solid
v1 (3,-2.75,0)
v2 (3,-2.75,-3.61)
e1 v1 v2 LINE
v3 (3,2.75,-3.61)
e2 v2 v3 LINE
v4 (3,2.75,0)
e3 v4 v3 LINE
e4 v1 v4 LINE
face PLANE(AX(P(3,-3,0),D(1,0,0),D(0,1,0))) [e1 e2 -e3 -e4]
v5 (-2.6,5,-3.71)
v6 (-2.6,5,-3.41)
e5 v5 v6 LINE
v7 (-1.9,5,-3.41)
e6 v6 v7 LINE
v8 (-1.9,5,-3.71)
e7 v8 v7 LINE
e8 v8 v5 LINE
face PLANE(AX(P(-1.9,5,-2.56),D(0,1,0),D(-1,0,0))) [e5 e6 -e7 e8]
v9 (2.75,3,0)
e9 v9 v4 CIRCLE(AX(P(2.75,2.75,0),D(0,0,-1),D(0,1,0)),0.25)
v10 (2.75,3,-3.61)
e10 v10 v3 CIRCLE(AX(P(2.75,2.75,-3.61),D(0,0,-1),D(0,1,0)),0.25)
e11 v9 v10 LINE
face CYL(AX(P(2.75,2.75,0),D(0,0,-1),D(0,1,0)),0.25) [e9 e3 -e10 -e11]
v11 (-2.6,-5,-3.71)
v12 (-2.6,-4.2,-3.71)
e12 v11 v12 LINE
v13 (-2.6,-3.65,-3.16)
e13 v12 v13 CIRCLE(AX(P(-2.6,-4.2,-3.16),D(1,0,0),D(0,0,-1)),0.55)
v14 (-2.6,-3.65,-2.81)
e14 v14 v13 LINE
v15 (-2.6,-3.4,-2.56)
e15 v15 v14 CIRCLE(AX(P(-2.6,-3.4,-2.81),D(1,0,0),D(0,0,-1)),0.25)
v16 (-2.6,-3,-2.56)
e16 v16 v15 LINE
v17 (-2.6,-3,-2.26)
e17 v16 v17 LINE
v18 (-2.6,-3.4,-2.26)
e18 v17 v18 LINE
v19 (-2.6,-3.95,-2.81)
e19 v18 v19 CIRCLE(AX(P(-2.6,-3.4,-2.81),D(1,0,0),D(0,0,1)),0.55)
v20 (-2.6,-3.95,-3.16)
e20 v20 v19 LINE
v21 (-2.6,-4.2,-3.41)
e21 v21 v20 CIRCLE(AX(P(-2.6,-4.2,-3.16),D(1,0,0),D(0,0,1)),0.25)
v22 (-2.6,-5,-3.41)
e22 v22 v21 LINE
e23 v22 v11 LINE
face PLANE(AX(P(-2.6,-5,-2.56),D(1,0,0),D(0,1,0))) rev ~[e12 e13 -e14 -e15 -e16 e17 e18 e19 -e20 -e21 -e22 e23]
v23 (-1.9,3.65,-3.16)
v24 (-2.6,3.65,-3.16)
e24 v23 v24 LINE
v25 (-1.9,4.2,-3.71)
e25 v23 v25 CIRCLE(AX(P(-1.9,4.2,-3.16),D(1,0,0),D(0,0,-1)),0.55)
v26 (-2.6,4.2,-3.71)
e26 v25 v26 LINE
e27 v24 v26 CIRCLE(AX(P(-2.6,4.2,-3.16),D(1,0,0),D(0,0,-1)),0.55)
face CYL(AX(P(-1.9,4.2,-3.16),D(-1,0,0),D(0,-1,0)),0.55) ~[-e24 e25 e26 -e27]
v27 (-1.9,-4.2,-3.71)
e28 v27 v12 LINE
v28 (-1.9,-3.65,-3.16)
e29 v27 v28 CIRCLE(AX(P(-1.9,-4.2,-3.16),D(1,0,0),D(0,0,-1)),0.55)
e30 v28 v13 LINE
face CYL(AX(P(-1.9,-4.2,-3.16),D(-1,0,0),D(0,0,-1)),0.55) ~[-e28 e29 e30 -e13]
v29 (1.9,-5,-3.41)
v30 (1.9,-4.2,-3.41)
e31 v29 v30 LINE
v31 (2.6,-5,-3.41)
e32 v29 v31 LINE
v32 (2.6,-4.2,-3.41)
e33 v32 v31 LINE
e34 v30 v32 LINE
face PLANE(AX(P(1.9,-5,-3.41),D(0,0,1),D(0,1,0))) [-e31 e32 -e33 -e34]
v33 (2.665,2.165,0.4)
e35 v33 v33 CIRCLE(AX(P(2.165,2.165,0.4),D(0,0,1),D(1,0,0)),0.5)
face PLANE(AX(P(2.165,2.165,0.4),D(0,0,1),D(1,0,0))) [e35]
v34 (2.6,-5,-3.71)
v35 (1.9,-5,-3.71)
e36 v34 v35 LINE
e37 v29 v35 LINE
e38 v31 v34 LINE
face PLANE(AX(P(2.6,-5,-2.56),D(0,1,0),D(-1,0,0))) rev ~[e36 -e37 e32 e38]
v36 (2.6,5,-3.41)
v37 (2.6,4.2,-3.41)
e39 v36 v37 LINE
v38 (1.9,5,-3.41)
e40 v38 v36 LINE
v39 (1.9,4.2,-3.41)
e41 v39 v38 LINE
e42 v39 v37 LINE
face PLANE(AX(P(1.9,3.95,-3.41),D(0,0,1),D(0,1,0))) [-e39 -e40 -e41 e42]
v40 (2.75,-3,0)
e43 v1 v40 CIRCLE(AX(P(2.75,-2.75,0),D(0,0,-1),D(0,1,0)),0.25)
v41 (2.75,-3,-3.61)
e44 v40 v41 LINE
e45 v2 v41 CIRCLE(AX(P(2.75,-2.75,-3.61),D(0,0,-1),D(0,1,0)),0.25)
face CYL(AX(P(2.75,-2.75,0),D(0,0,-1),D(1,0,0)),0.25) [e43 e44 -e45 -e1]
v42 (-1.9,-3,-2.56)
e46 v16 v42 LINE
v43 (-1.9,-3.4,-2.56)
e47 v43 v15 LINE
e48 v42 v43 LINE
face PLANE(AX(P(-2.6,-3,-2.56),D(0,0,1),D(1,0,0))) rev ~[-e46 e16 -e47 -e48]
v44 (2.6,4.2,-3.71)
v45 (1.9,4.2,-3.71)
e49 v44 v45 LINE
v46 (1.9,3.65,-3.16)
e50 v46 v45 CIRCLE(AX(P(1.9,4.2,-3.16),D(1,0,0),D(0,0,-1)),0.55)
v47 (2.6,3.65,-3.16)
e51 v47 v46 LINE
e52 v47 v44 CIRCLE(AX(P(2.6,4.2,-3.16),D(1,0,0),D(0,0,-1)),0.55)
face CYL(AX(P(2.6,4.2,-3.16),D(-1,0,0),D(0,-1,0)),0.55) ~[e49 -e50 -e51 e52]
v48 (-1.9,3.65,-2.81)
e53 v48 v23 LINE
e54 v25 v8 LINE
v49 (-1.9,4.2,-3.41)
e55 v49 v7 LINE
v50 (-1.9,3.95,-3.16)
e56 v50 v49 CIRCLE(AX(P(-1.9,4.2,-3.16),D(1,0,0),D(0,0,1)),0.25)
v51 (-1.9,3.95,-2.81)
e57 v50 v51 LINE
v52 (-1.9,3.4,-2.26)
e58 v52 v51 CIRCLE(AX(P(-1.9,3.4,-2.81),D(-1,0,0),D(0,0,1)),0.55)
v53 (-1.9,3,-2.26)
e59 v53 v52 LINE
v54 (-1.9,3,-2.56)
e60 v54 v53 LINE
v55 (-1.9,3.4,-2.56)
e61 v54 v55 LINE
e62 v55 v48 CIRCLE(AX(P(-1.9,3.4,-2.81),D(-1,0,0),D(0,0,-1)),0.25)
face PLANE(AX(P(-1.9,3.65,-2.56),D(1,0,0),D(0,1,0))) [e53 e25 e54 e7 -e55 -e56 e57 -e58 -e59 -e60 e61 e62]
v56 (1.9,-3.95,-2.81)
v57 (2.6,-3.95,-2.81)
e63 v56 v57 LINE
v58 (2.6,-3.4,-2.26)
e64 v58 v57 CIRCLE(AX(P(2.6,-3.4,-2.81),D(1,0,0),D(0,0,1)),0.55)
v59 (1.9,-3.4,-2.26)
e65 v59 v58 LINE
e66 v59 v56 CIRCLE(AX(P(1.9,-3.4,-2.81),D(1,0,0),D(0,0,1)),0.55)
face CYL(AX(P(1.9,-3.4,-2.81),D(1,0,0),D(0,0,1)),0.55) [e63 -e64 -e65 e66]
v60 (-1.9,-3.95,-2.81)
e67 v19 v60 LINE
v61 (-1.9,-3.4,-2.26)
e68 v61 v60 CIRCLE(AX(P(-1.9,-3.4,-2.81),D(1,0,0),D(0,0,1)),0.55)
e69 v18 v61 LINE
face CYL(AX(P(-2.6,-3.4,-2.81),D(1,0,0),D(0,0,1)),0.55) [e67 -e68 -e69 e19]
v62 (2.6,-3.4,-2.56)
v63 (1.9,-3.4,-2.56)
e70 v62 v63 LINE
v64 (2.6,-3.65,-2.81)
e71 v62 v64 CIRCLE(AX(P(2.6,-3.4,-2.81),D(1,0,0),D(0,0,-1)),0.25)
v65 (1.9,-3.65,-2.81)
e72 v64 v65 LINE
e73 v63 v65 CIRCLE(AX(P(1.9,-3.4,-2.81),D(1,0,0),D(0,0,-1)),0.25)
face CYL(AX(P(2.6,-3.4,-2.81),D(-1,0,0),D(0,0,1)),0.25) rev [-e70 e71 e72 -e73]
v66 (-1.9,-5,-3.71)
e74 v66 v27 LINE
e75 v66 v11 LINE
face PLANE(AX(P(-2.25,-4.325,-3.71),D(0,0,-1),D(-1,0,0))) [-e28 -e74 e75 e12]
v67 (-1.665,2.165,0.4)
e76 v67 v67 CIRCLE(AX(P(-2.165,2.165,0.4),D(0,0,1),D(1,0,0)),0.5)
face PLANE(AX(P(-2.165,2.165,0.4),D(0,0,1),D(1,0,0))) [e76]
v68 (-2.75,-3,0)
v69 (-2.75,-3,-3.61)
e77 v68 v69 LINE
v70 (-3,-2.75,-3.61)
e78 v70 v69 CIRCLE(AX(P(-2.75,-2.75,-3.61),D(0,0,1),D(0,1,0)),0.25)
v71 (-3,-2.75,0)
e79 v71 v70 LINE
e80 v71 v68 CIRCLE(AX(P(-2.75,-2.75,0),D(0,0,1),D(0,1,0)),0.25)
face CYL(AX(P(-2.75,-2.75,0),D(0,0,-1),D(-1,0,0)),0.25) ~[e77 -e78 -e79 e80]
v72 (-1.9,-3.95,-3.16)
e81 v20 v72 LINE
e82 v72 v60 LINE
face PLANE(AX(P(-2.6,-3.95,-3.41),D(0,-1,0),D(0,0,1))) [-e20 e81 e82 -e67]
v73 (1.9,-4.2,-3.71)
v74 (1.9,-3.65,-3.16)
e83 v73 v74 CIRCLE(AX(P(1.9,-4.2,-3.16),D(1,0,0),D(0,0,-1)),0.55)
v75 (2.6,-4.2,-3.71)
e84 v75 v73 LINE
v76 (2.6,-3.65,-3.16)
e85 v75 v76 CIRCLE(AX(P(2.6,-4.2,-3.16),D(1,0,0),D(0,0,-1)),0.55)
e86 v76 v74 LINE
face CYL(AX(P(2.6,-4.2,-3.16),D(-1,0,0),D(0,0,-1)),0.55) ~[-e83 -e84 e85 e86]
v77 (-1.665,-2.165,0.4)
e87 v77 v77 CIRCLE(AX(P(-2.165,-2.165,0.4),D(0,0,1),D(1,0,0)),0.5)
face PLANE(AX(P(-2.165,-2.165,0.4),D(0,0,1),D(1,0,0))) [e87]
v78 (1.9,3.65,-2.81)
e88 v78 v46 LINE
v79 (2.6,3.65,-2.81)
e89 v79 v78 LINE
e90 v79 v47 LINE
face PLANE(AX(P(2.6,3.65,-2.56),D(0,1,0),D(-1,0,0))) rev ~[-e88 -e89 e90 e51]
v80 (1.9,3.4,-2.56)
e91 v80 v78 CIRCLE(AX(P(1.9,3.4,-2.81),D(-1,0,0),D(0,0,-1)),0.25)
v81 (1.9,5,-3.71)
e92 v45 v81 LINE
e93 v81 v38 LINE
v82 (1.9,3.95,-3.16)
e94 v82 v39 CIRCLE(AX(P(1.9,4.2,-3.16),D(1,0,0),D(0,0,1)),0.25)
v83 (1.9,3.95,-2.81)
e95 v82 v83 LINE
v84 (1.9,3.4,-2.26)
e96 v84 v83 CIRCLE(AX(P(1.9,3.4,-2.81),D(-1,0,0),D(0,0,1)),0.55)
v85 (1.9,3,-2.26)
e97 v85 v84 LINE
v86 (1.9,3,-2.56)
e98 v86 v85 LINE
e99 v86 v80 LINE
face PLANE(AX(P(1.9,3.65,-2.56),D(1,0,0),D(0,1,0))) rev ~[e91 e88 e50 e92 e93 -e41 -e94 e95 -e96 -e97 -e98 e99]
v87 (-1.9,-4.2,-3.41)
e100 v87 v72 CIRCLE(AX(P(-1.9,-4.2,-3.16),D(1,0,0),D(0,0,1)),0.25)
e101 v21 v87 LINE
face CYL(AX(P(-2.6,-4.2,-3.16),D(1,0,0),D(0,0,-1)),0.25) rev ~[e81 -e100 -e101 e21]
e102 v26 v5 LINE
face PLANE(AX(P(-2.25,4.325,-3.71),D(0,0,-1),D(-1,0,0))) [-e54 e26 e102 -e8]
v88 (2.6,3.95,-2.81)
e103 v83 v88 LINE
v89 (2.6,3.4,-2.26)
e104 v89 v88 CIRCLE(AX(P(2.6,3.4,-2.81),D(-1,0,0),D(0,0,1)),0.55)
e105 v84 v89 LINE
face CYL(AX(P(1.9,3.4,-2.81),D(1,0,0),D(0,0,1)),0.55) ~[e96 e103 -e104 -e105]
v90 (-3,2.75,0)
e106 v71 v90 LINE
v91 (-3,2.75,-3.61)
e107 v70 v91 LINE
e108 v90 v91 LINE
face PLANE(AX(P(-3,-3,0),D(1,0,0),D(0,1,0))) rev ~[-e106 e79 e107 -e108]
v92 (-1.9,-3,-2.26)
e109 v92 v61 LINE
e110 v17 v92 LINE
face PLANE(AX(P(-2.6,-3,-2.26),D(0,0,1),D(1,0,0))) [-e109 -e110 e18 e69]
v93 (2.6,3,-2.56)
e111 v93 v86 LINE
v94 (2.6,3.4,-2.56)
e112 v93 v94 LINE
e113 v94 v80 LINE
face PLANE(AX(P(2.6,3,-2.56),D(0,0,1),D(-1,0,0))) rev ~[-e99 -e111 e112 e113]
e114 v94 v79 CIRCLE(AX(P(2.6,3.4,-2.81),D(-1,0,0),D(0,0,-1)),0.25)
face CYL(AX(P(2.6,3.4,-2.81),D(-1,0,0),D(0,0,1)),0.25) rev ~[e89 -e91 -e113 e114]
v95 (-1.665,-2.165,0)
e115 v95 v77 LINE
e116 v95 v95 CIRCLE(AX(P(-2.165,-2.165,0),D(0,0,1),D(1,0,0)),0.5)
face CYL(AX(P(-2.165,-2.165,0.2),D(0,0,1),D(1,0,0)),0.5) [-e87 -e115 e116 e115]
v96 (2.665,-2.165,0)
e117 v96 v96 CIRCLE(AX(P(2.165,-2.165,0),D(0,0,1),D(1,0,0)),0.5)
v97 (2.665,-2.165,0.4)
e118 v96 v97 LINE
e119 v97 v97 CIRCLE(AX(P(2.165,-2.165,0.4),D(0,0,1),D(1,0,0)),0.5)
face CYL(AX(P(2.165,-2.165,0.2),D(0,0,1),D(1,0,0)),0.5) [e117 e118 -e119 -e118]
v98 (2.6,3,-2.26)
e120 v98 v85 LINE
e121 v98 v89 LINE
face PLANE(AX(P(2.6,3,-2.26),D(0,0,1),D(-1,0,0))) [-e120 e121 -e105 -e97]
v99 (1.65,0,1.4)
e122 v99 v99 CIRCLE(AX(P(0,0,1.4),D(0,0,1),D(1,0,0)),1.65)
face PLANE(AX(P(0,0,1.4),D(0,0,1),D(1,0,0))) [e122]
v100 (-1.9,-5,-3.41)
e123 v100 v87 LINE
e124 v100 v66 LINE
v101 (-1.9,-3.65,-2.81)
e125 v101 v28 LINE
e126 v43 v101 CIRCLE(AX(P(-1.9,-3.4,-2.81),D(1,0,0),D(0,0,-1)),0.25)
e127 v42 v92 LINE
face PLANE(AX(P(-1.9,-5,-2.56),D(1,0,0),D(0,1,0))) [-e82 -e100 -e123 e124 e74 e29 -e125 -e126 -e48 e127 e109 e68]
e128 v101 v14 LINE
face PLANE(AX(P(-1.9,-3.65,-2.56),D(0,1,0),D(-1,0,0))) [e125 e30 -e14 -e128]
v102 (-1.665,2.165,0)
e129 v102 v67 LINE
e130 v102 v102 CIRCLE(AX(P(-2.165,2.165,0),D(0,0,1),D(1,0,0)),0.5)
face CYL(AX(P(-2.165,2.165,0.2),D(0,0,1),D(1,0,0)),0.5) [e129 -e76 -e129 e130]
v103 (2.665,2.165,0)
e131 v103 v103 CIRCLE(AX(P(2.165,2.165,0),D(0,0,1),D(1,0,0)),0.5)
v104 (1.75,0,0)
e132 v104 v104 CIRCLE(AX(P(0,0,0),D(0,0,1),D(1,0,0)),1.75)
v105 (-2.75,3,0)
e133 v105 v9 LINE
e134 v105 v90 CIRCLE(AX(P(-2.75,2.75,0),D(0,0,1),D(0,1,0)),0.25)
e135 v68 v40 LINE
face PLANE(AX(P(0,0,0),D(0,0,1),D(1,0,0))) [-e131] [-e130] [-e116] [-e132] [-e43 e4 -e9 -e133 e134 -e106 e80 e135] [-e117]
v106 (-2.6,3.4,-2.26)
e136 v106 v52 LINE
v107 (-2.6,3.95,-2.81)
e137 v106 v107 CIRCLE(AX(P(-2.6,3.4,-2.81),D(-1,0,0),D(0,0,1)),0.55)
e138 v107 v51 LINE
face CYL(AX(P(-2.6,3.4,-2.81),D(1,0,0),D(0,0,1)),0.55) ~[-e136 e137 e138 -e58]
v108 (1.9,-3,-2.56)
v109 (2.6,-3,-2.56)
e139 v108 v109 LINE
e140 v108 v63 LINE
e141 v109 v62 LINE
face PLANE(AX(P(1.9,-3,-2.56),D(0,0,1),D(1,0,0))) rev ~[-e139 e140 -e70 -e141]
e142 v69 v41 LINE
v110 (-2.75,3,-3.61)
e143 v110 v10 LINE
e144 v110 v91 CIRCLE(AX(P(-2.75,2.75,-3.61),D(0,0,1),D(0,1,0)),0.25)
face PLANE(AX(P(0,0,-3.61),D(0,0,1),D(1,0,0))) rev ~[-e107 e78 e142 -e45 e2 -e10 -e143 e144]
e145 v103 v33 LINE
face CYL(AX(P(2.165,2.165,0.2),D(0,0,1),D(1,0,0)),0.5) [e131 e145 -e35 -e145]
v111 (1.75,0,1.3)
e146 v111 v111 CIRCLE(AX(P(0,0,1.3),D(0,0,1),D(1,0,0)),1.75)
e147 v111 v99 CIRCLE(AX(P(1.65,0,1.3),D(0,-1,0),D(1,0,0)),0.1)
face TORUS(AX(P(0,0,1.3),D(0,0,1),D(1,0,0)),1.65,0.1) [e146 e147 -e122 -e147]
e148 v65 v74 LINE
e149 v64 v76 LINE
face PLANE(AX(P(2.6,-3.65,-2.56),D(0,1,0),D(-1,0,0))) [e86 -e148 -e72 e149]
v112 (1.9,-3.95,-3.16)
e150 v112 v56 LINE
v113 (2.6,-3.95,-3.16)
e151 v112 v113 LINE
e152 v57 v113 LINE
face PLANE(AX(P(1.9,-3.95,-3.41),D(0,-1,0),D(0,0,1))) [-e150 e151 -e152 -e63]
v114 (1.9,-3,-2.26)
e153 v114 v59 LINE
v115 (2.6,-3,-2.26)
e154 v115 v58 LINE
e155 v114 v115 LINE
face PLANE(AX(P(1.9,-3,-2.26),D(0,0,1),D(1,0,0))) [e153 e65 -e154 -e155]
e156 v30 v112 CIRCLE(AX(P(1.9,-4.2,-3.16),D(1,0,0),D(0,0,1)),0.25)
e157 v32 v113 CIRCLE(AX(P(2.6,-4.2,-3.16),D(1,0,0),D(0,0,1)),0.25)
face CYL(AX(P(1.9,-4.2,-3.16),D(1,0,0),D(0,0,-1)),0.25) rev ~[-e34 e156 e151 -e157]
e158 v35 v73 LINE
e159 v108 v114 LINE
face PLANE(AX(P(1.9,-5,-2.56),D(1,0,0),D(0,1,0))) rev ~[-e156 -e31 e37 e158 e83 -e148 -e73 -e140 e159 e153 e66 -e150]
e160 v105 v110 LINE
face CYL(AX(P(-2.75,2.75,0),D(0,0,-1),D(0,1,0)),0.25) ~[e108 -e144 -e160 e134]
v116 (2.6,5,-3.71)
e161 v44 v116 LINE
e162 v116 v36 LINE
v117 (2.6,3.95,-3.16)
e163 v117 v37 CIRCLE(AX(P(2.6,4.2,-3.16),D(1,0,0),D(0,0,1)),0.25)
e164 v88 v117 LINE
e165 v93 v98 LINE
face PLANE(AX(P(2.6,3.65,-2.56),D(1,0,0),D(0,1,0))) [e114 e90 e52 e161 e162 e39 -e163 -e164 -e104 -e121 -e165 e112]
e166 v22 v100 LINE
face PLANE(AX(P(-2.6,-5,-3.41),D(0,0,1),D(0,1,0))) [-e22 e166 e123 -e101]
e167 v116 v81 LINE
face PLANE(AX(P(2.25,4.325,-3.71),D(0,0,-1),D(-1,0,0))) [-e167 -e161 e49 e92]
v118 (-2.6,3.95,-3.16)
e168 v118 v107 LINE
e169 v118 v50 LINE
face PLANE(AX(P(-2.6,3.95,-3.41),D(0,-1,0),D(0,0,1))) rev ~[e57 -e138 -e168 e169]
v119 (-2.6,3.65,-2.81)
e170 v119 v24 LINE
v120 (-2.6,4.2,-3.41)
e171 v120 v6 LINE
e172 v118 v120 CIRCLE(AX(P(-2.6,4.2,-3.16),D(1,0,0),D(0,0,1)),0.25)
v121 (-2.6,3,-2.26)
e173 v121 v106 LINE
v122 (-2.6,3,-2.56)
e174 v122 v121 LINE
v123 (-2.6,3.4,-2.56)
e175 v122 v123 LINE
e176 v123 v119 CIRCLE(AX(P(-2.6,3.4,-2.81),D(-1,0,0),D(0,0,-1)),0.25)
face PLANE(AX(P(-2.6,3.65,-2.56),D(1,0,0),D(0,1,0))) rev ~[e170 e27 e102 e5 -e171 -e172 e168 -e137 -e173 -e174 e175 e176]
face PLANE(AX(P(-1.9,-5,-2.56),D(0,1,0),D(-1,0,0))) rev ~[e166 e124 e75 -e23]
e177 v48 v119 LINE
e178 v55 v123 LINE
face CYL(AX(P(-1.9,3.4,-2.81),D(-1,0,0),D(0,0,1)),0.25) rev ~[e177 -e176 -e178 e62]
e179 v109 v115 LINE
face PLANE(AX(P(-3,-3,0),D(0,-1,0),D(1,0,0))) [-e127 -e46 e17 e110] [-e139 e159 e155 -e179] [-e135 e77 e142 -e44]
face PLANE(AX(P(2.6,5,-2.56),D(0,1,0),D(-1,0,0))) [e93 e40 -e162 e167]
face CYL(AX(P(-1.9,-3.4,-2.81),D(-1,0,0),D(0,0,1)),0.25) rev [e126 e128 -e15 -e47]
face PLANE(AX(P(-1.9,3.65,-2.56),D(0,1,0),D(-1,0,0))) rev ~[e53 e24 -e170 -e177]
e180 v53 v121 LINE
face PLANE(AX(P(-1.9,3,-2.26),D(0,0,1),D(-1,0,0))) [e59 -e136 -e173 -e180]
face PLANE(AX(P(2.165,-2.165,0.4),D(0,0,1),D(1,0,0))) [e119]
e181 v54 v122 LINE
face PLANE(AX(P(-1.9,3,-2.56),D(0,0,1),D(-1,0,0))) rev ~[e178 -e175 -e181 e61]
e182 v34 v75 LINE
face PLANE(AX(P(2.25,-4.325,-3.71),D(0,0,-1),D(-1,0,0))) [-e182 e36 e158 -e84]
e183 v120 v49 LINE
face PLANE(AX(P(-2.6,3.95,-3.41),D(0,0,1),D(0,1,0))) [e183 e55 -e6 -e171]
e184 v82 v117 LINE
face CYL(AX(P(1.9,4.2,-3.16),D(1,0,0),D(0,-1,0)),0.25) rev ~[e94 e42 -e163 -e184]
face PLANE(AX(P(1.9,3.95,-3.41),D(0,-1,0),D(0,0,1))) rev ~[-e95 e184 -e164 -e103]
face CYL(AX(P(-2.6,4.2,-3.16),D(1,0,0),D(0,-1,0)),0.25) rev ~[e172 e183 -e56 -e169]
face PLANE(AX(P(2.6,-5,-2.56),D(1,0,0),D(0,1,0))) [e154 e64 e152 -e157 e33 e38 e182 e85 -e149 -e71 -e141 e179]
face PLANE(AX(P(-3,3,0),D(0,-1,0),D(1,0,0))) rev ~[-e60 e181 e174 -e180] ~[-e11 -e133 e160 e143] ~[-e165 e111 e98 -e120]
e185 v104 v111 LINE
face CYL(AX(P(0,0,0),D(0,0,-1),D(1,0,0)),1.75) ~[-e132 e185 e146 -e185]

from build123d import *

# Parameters (mm, degrees)
SKETCH1_W            = 6
SKETCH1_H            = 6
BOSS_EXTRUDE1_DEPTH  = 3.61
SKETCH2_W            = 0.7
SKETCH2_H            = 0.3
BOSS_EXTRUDE2_DEPTH  = 2
SKETCH3_W            = 0.7
SKETCH3_H            = 1.35
BOSS_EXTRUDE3_DEPTH  = 1.15
SKETCH4_W            = 0.7
SKETCH4_H            = 0.3
BOSS_EXTRUDE4_DEPTH  = 2
SKETCH5_W            = 0.7
SKETCH5_H            = 1.35
BOSS_EXTRUDE5_DEPTH  = 1.15
SKETCH6_W            = 0.7
SKETCH6_H            = 0.3
BOSS_EXTRUDE6_DEPTH  = 2
SKETCH7_W            = 0.7
SKETCH7_H            = 1.35
BOSS_EXTRUDE7_DEPTH  = 1.15
SKETCH8_W            = 0.7
SKETCH8_H            = 0.3
BOSS_EXTRUDE8_DEPTH  = 2
SKETCH9_W            = 0.7
SKETCH9_H            = 1.35
BOSS_EXTRUDE9_DEPTH  = 1.15
CUT_EXTRUDE1_REACH   = 10.374
SKETCH10_W           = 1.15
SKETCH10_H           = 1.05
SKETCH11_W           = 1.15
SKETCH11_H           = 1.05
CUT_EXTRUDE2_DEPTH   = 8.923010791
CUT_EXTRUDE3_REACH   = 10.374
SKETCH12_W           = 1.15
SKETCH12_H           = 1.05
SKETCH13_W           = 1.15
SKETCH13_H           = 1.05
CUT_EXTRUDE4_DEPTH   = 8.923010791
SKETCH14_W           = 0.5
SKETCH14_H           = 0.4
SKETCH15_W           = 0.5
SKETCH15_H           = 0.4
SKETCH16_W           = 0.5
SKETCH16_H           = 0.4
SKETCH17_W           = 0.5
SKETCH17_H           = 0.4
FILLET1_R            = 0.25
FILLET2_R            = 0.55
SKETCH19_R           = 1.75
BOSS_EXTRUDE10_DEPTH = 1.4
FILLET4_R            = 0.1


with BuildPart() as part:
    # Sketch1 → Boss-Extrude1 (new body)
    with BuildSketch(Plane.XY):
        Rectangle(SKETCH1_W, SKETCH1_H)
    extrude(amount=-BOSS_EXTRUDE1_DEPTH)

    # Sketch2 → Boss-Extrude2 (add)
    with BuildSketch(Plane.XZ.offset(3)):
        with Locations((-2.25, -2.41)):
            Rectangle(SKETCH2_W, SKETCH2_H)
    extrude(amount=BOSS_EXTRUDE2_DEPTH)

    # Sketch3 → Boss-Extrude3 (add)
    with BuildSketch(Plane(origin=(0, 0, -2.56), x_dir=(-1, 0, 0), z_dir=(0, 0, -1))):
        with Locations((2.25, -4.325)):
            Rectangle(SKETCH3_W, SKETCH3_H)
    extrude(amount=BOSS_EXTRUDE3_DEPTH)

    # Sketch4 → Boss-Extrude4 (add)
    with BuildSketch(Plane.XZ.offset(3)):
        with Locations((2.25, -2.41)):
            Rectangle(SKETCH4_W, SKETCH4_H)
    extrude(amount=BOSS_EXTRUDE4_DEPTH)

    # Sketch5 → Boss-Extrude5 (add)
    with BuildSketch(Plane(origin=(0, 0, -2.56), x_dir=(-1, 0, 0), z_dir=(0, 0, -1))):
        with Locations((-2.25, -4.325)):
            Rectangle(SKETCH5_W, SKETCH5_H)
    extrude(amount=BOSS_EXTRUDE5_DEPTH)

    # Sketch6 → Boss-Extrude6 (add)
    with BuildSketch(Plane(origin=(0, 3, 0), x_dir=(-1, 0, 0), z_dir=(0, 1, 0))):
        with Locations((2.25, -2.41)):
            Rectangle(SKETCH6_W, SKETCH6_H)
    extrude(amount=BOSS_EXTRUDE6_DEPTH)

    # Sketch7 → Boss-Extrude7 (add)
    with BuildSketch(Plane(origin=(0, 0, -2.56), x_dir=(-1, 0, 0), z_dir=(0, 0, -1))):
        with Locations((2.25, 4.325)):
            Rectangle(SKETCH7_W, SKETCH7_H)
    extrude(amount=BOSS_EXTRUDE7_DEPTH)

    # Sketch8 → Boss-Extrude8 (add)
    with BuildSketch(Plane(origin=(0, 3, 0), x_dir=(-1, 0, 0), z_dir=(0, 1, 0))):
        with Locations((-2.25, -2.41)):
            Rectangle(SKETCH8_W, SKETCH8_H)
    extrude(amount=BOSS_EXTRUDE8_DEPTH)

    # Sketch9 → Boss-Extrude9 (add)
    with BuildSketch(Plane(origin=(0, 0, -2.56), x_dir=(-1, 0, 0), z_dir=(0, 0, -1))):
        with Locations((-2.25, 4.325)):
            Rectangle(SKETCH9_W, SKETCH9_H)
    extrude(amount=BOSS_EXTRUDE9_DEPTH)

    # Sketch10 → Cut-Extrude1 (cut, up to next)
    with BuildSketch(Plane.ZY.offset(2.6), mode=Mode.PRIVATE) as cut_extrude1_sk1:
        with Locations((-2.835, -4.475)):
            Rectangle(SKETCH10_W, SKETCH10_H)
    cut_extrude1_tool1 = extrude(cut_extrude1_sk1.sketch, amount=-CUT_EXTRUDE1_REACH, mode=Mode.PRIVATE) & part.part
    add(cut_extrude1_tool1.solids().sort_by_distance((-2.6, -4.475, -2.835))[0], mode=Mode.SUBTRACT)

    # Sketch11 → Cut-Extrude2 (cut, through all)
    with BuildSketch(Plane.ZY.offset(-1.9)):
        with Locations((-2.835, -4.475)):
            Rectangle(SKETCH11_W, SKETCH11_H)
    extrude(amount=-CUT_EXTRUDE2_DEPTH, mode=Mode.SUBTRACT)

    # Sketch12 → Cut-Extrude3 (cut, up to next)
    with BuildSketch(Plane.ZY.offset(2.6), mode=Mode.PRIVATE) as cut_extrude3_sk1:
        with Locations((-2.835, 4.475)):
            Rectangle(SKETCH12_W, SKETCH12_H)
    cut_extrude3_tool1 = extrude(cut_extrude3_sk1.sketch, amount=-CUT_EXTRUDE3_REACH, mode=Mode.PRIVATE) & part.part
    add(cut_extrude3_tool1.solids().sort_by_distance((-2.6, 4.475, -2.835))[0], mode=Mode.SUBTRACT)

    # Sketch13 → Cut-Extrude4 (cut, through all)
    with BuildSketch(Plane.ZY.offset(-1.9)):
        with Locations((-2.835, 4.475)):
            Rectangle(SKETCH13_W, SKETCH13_H)
    extrude(amount=-CUT_EXTRUDE4_DEPTH, mode=Mode.SUBTRACT)

    # Sketch14 → Revolve1 (revolve)
    with BuildSketch(Plane(origin=(0, -2.165, 0), x_dir=(-1, 0, 0), z_dir=(0, 1, 0))):
        with Locations((-2.415, 0.2)):
            Rectangle(SKETCH14_W, SKETCH14_H)
    revolve(axis=Axis((2.165, -2.165, 0), (0, 0, 1)))

    # Sketch15 → Revolve2 (revolve)
    with BuildSketch(Plane(origin=(0, -2.165, 0), x_dir=(-1, 0, 0), z_dir=(0, 1, 0))):
        with Locations((1.915, 0.2)):
            Rectangle(SKETCH15_W, SKETCH15_H)
    revolve(axis=Axis((-2.165, -2.165, 0), (0, 0, 1)))

    # Sketch16 → Revolve3 (revolve)
    with BuildSketch(Plane(origin=(0, 2.165, 0), x_dir=(-1, 0, 0), z_dir=(0, 1, 0))):
        with Locations((1.915, 0.2)):
            Rectangle(SKETCH16_W, SKETCH16_H)
    revolve(axis=Axis((-2.165, 2.165, 0), (0, 0, 1)))

    # Sketch17 → Revolve4 (revolve)
    with BuildSketch(Plane(origin=(0, 2.165, 0), x_dir=(-1, 0, 0), z_dir=(0, 1, 0))):
        with Locations((-2.415, 0.2)):
            Rectangle(SKETCH17_W, SKETCH17_H)
    revolve(axis=Axis((2.165, 2.165, 0), (0, 0, 1)))

    # Fillet1
    fillet1_edges = [part.edges().sort_by_distance(p)[0] for p in [
        (2.25, 3.65, -2.56),
        (-2.25, -3.95, -3.41),
        (2.25, -3.95, -3.41),
        (-2.25, 3.95, -3.41),
        (2.25, 3.95, -3.41),
        (-2.25, -3.65, -2.56),
        (2.25, -3.65, -2.56),
        (-3, -3, -1.805),
        (-3, 3, -1.805),
        (3, 3, -1.805),
        (3, -3, -1.805),
        (-2.25, 3.65, -2.56),
    ]]
    fillet(fillet1_edges, radius=FILLET1_R)

    # Fillet2
    fillet2_edges = [part.edges().sort_by_distance(p)[0] for p in [
        (2.25, 3.65, -3.71),
        (-2.25, -3.95, -2.26),
        (2.25, -3.95, -2.26),
        (-2.25, 3.95, -2.26),
        (2.25, 3.95, -2.26),
        (-2.25, -3.65, -3.71),
        (2.25, -3.65, -3.71),
        (-2.25, 3.65, -3.71),
    ]]
    fillet(fillet2_edges, radius=FILLET2_R)

    # Sketch19 → Boss-Extrude10 (add)
    with BuildSketch(Plane.XY):
        Circle(SKETCH19_R)
    extrude(amount=BOSS_EXTRUDE10_DEPTH)

    # Fillet4
    fillet4_edges = [part.edges().sort_by_distance(p)[0] for p in [
        (-1.75, 0, 1.4),
    ]]
    fillet(fillet4_edges, radius=FILLET4_R)


solid = part.part
